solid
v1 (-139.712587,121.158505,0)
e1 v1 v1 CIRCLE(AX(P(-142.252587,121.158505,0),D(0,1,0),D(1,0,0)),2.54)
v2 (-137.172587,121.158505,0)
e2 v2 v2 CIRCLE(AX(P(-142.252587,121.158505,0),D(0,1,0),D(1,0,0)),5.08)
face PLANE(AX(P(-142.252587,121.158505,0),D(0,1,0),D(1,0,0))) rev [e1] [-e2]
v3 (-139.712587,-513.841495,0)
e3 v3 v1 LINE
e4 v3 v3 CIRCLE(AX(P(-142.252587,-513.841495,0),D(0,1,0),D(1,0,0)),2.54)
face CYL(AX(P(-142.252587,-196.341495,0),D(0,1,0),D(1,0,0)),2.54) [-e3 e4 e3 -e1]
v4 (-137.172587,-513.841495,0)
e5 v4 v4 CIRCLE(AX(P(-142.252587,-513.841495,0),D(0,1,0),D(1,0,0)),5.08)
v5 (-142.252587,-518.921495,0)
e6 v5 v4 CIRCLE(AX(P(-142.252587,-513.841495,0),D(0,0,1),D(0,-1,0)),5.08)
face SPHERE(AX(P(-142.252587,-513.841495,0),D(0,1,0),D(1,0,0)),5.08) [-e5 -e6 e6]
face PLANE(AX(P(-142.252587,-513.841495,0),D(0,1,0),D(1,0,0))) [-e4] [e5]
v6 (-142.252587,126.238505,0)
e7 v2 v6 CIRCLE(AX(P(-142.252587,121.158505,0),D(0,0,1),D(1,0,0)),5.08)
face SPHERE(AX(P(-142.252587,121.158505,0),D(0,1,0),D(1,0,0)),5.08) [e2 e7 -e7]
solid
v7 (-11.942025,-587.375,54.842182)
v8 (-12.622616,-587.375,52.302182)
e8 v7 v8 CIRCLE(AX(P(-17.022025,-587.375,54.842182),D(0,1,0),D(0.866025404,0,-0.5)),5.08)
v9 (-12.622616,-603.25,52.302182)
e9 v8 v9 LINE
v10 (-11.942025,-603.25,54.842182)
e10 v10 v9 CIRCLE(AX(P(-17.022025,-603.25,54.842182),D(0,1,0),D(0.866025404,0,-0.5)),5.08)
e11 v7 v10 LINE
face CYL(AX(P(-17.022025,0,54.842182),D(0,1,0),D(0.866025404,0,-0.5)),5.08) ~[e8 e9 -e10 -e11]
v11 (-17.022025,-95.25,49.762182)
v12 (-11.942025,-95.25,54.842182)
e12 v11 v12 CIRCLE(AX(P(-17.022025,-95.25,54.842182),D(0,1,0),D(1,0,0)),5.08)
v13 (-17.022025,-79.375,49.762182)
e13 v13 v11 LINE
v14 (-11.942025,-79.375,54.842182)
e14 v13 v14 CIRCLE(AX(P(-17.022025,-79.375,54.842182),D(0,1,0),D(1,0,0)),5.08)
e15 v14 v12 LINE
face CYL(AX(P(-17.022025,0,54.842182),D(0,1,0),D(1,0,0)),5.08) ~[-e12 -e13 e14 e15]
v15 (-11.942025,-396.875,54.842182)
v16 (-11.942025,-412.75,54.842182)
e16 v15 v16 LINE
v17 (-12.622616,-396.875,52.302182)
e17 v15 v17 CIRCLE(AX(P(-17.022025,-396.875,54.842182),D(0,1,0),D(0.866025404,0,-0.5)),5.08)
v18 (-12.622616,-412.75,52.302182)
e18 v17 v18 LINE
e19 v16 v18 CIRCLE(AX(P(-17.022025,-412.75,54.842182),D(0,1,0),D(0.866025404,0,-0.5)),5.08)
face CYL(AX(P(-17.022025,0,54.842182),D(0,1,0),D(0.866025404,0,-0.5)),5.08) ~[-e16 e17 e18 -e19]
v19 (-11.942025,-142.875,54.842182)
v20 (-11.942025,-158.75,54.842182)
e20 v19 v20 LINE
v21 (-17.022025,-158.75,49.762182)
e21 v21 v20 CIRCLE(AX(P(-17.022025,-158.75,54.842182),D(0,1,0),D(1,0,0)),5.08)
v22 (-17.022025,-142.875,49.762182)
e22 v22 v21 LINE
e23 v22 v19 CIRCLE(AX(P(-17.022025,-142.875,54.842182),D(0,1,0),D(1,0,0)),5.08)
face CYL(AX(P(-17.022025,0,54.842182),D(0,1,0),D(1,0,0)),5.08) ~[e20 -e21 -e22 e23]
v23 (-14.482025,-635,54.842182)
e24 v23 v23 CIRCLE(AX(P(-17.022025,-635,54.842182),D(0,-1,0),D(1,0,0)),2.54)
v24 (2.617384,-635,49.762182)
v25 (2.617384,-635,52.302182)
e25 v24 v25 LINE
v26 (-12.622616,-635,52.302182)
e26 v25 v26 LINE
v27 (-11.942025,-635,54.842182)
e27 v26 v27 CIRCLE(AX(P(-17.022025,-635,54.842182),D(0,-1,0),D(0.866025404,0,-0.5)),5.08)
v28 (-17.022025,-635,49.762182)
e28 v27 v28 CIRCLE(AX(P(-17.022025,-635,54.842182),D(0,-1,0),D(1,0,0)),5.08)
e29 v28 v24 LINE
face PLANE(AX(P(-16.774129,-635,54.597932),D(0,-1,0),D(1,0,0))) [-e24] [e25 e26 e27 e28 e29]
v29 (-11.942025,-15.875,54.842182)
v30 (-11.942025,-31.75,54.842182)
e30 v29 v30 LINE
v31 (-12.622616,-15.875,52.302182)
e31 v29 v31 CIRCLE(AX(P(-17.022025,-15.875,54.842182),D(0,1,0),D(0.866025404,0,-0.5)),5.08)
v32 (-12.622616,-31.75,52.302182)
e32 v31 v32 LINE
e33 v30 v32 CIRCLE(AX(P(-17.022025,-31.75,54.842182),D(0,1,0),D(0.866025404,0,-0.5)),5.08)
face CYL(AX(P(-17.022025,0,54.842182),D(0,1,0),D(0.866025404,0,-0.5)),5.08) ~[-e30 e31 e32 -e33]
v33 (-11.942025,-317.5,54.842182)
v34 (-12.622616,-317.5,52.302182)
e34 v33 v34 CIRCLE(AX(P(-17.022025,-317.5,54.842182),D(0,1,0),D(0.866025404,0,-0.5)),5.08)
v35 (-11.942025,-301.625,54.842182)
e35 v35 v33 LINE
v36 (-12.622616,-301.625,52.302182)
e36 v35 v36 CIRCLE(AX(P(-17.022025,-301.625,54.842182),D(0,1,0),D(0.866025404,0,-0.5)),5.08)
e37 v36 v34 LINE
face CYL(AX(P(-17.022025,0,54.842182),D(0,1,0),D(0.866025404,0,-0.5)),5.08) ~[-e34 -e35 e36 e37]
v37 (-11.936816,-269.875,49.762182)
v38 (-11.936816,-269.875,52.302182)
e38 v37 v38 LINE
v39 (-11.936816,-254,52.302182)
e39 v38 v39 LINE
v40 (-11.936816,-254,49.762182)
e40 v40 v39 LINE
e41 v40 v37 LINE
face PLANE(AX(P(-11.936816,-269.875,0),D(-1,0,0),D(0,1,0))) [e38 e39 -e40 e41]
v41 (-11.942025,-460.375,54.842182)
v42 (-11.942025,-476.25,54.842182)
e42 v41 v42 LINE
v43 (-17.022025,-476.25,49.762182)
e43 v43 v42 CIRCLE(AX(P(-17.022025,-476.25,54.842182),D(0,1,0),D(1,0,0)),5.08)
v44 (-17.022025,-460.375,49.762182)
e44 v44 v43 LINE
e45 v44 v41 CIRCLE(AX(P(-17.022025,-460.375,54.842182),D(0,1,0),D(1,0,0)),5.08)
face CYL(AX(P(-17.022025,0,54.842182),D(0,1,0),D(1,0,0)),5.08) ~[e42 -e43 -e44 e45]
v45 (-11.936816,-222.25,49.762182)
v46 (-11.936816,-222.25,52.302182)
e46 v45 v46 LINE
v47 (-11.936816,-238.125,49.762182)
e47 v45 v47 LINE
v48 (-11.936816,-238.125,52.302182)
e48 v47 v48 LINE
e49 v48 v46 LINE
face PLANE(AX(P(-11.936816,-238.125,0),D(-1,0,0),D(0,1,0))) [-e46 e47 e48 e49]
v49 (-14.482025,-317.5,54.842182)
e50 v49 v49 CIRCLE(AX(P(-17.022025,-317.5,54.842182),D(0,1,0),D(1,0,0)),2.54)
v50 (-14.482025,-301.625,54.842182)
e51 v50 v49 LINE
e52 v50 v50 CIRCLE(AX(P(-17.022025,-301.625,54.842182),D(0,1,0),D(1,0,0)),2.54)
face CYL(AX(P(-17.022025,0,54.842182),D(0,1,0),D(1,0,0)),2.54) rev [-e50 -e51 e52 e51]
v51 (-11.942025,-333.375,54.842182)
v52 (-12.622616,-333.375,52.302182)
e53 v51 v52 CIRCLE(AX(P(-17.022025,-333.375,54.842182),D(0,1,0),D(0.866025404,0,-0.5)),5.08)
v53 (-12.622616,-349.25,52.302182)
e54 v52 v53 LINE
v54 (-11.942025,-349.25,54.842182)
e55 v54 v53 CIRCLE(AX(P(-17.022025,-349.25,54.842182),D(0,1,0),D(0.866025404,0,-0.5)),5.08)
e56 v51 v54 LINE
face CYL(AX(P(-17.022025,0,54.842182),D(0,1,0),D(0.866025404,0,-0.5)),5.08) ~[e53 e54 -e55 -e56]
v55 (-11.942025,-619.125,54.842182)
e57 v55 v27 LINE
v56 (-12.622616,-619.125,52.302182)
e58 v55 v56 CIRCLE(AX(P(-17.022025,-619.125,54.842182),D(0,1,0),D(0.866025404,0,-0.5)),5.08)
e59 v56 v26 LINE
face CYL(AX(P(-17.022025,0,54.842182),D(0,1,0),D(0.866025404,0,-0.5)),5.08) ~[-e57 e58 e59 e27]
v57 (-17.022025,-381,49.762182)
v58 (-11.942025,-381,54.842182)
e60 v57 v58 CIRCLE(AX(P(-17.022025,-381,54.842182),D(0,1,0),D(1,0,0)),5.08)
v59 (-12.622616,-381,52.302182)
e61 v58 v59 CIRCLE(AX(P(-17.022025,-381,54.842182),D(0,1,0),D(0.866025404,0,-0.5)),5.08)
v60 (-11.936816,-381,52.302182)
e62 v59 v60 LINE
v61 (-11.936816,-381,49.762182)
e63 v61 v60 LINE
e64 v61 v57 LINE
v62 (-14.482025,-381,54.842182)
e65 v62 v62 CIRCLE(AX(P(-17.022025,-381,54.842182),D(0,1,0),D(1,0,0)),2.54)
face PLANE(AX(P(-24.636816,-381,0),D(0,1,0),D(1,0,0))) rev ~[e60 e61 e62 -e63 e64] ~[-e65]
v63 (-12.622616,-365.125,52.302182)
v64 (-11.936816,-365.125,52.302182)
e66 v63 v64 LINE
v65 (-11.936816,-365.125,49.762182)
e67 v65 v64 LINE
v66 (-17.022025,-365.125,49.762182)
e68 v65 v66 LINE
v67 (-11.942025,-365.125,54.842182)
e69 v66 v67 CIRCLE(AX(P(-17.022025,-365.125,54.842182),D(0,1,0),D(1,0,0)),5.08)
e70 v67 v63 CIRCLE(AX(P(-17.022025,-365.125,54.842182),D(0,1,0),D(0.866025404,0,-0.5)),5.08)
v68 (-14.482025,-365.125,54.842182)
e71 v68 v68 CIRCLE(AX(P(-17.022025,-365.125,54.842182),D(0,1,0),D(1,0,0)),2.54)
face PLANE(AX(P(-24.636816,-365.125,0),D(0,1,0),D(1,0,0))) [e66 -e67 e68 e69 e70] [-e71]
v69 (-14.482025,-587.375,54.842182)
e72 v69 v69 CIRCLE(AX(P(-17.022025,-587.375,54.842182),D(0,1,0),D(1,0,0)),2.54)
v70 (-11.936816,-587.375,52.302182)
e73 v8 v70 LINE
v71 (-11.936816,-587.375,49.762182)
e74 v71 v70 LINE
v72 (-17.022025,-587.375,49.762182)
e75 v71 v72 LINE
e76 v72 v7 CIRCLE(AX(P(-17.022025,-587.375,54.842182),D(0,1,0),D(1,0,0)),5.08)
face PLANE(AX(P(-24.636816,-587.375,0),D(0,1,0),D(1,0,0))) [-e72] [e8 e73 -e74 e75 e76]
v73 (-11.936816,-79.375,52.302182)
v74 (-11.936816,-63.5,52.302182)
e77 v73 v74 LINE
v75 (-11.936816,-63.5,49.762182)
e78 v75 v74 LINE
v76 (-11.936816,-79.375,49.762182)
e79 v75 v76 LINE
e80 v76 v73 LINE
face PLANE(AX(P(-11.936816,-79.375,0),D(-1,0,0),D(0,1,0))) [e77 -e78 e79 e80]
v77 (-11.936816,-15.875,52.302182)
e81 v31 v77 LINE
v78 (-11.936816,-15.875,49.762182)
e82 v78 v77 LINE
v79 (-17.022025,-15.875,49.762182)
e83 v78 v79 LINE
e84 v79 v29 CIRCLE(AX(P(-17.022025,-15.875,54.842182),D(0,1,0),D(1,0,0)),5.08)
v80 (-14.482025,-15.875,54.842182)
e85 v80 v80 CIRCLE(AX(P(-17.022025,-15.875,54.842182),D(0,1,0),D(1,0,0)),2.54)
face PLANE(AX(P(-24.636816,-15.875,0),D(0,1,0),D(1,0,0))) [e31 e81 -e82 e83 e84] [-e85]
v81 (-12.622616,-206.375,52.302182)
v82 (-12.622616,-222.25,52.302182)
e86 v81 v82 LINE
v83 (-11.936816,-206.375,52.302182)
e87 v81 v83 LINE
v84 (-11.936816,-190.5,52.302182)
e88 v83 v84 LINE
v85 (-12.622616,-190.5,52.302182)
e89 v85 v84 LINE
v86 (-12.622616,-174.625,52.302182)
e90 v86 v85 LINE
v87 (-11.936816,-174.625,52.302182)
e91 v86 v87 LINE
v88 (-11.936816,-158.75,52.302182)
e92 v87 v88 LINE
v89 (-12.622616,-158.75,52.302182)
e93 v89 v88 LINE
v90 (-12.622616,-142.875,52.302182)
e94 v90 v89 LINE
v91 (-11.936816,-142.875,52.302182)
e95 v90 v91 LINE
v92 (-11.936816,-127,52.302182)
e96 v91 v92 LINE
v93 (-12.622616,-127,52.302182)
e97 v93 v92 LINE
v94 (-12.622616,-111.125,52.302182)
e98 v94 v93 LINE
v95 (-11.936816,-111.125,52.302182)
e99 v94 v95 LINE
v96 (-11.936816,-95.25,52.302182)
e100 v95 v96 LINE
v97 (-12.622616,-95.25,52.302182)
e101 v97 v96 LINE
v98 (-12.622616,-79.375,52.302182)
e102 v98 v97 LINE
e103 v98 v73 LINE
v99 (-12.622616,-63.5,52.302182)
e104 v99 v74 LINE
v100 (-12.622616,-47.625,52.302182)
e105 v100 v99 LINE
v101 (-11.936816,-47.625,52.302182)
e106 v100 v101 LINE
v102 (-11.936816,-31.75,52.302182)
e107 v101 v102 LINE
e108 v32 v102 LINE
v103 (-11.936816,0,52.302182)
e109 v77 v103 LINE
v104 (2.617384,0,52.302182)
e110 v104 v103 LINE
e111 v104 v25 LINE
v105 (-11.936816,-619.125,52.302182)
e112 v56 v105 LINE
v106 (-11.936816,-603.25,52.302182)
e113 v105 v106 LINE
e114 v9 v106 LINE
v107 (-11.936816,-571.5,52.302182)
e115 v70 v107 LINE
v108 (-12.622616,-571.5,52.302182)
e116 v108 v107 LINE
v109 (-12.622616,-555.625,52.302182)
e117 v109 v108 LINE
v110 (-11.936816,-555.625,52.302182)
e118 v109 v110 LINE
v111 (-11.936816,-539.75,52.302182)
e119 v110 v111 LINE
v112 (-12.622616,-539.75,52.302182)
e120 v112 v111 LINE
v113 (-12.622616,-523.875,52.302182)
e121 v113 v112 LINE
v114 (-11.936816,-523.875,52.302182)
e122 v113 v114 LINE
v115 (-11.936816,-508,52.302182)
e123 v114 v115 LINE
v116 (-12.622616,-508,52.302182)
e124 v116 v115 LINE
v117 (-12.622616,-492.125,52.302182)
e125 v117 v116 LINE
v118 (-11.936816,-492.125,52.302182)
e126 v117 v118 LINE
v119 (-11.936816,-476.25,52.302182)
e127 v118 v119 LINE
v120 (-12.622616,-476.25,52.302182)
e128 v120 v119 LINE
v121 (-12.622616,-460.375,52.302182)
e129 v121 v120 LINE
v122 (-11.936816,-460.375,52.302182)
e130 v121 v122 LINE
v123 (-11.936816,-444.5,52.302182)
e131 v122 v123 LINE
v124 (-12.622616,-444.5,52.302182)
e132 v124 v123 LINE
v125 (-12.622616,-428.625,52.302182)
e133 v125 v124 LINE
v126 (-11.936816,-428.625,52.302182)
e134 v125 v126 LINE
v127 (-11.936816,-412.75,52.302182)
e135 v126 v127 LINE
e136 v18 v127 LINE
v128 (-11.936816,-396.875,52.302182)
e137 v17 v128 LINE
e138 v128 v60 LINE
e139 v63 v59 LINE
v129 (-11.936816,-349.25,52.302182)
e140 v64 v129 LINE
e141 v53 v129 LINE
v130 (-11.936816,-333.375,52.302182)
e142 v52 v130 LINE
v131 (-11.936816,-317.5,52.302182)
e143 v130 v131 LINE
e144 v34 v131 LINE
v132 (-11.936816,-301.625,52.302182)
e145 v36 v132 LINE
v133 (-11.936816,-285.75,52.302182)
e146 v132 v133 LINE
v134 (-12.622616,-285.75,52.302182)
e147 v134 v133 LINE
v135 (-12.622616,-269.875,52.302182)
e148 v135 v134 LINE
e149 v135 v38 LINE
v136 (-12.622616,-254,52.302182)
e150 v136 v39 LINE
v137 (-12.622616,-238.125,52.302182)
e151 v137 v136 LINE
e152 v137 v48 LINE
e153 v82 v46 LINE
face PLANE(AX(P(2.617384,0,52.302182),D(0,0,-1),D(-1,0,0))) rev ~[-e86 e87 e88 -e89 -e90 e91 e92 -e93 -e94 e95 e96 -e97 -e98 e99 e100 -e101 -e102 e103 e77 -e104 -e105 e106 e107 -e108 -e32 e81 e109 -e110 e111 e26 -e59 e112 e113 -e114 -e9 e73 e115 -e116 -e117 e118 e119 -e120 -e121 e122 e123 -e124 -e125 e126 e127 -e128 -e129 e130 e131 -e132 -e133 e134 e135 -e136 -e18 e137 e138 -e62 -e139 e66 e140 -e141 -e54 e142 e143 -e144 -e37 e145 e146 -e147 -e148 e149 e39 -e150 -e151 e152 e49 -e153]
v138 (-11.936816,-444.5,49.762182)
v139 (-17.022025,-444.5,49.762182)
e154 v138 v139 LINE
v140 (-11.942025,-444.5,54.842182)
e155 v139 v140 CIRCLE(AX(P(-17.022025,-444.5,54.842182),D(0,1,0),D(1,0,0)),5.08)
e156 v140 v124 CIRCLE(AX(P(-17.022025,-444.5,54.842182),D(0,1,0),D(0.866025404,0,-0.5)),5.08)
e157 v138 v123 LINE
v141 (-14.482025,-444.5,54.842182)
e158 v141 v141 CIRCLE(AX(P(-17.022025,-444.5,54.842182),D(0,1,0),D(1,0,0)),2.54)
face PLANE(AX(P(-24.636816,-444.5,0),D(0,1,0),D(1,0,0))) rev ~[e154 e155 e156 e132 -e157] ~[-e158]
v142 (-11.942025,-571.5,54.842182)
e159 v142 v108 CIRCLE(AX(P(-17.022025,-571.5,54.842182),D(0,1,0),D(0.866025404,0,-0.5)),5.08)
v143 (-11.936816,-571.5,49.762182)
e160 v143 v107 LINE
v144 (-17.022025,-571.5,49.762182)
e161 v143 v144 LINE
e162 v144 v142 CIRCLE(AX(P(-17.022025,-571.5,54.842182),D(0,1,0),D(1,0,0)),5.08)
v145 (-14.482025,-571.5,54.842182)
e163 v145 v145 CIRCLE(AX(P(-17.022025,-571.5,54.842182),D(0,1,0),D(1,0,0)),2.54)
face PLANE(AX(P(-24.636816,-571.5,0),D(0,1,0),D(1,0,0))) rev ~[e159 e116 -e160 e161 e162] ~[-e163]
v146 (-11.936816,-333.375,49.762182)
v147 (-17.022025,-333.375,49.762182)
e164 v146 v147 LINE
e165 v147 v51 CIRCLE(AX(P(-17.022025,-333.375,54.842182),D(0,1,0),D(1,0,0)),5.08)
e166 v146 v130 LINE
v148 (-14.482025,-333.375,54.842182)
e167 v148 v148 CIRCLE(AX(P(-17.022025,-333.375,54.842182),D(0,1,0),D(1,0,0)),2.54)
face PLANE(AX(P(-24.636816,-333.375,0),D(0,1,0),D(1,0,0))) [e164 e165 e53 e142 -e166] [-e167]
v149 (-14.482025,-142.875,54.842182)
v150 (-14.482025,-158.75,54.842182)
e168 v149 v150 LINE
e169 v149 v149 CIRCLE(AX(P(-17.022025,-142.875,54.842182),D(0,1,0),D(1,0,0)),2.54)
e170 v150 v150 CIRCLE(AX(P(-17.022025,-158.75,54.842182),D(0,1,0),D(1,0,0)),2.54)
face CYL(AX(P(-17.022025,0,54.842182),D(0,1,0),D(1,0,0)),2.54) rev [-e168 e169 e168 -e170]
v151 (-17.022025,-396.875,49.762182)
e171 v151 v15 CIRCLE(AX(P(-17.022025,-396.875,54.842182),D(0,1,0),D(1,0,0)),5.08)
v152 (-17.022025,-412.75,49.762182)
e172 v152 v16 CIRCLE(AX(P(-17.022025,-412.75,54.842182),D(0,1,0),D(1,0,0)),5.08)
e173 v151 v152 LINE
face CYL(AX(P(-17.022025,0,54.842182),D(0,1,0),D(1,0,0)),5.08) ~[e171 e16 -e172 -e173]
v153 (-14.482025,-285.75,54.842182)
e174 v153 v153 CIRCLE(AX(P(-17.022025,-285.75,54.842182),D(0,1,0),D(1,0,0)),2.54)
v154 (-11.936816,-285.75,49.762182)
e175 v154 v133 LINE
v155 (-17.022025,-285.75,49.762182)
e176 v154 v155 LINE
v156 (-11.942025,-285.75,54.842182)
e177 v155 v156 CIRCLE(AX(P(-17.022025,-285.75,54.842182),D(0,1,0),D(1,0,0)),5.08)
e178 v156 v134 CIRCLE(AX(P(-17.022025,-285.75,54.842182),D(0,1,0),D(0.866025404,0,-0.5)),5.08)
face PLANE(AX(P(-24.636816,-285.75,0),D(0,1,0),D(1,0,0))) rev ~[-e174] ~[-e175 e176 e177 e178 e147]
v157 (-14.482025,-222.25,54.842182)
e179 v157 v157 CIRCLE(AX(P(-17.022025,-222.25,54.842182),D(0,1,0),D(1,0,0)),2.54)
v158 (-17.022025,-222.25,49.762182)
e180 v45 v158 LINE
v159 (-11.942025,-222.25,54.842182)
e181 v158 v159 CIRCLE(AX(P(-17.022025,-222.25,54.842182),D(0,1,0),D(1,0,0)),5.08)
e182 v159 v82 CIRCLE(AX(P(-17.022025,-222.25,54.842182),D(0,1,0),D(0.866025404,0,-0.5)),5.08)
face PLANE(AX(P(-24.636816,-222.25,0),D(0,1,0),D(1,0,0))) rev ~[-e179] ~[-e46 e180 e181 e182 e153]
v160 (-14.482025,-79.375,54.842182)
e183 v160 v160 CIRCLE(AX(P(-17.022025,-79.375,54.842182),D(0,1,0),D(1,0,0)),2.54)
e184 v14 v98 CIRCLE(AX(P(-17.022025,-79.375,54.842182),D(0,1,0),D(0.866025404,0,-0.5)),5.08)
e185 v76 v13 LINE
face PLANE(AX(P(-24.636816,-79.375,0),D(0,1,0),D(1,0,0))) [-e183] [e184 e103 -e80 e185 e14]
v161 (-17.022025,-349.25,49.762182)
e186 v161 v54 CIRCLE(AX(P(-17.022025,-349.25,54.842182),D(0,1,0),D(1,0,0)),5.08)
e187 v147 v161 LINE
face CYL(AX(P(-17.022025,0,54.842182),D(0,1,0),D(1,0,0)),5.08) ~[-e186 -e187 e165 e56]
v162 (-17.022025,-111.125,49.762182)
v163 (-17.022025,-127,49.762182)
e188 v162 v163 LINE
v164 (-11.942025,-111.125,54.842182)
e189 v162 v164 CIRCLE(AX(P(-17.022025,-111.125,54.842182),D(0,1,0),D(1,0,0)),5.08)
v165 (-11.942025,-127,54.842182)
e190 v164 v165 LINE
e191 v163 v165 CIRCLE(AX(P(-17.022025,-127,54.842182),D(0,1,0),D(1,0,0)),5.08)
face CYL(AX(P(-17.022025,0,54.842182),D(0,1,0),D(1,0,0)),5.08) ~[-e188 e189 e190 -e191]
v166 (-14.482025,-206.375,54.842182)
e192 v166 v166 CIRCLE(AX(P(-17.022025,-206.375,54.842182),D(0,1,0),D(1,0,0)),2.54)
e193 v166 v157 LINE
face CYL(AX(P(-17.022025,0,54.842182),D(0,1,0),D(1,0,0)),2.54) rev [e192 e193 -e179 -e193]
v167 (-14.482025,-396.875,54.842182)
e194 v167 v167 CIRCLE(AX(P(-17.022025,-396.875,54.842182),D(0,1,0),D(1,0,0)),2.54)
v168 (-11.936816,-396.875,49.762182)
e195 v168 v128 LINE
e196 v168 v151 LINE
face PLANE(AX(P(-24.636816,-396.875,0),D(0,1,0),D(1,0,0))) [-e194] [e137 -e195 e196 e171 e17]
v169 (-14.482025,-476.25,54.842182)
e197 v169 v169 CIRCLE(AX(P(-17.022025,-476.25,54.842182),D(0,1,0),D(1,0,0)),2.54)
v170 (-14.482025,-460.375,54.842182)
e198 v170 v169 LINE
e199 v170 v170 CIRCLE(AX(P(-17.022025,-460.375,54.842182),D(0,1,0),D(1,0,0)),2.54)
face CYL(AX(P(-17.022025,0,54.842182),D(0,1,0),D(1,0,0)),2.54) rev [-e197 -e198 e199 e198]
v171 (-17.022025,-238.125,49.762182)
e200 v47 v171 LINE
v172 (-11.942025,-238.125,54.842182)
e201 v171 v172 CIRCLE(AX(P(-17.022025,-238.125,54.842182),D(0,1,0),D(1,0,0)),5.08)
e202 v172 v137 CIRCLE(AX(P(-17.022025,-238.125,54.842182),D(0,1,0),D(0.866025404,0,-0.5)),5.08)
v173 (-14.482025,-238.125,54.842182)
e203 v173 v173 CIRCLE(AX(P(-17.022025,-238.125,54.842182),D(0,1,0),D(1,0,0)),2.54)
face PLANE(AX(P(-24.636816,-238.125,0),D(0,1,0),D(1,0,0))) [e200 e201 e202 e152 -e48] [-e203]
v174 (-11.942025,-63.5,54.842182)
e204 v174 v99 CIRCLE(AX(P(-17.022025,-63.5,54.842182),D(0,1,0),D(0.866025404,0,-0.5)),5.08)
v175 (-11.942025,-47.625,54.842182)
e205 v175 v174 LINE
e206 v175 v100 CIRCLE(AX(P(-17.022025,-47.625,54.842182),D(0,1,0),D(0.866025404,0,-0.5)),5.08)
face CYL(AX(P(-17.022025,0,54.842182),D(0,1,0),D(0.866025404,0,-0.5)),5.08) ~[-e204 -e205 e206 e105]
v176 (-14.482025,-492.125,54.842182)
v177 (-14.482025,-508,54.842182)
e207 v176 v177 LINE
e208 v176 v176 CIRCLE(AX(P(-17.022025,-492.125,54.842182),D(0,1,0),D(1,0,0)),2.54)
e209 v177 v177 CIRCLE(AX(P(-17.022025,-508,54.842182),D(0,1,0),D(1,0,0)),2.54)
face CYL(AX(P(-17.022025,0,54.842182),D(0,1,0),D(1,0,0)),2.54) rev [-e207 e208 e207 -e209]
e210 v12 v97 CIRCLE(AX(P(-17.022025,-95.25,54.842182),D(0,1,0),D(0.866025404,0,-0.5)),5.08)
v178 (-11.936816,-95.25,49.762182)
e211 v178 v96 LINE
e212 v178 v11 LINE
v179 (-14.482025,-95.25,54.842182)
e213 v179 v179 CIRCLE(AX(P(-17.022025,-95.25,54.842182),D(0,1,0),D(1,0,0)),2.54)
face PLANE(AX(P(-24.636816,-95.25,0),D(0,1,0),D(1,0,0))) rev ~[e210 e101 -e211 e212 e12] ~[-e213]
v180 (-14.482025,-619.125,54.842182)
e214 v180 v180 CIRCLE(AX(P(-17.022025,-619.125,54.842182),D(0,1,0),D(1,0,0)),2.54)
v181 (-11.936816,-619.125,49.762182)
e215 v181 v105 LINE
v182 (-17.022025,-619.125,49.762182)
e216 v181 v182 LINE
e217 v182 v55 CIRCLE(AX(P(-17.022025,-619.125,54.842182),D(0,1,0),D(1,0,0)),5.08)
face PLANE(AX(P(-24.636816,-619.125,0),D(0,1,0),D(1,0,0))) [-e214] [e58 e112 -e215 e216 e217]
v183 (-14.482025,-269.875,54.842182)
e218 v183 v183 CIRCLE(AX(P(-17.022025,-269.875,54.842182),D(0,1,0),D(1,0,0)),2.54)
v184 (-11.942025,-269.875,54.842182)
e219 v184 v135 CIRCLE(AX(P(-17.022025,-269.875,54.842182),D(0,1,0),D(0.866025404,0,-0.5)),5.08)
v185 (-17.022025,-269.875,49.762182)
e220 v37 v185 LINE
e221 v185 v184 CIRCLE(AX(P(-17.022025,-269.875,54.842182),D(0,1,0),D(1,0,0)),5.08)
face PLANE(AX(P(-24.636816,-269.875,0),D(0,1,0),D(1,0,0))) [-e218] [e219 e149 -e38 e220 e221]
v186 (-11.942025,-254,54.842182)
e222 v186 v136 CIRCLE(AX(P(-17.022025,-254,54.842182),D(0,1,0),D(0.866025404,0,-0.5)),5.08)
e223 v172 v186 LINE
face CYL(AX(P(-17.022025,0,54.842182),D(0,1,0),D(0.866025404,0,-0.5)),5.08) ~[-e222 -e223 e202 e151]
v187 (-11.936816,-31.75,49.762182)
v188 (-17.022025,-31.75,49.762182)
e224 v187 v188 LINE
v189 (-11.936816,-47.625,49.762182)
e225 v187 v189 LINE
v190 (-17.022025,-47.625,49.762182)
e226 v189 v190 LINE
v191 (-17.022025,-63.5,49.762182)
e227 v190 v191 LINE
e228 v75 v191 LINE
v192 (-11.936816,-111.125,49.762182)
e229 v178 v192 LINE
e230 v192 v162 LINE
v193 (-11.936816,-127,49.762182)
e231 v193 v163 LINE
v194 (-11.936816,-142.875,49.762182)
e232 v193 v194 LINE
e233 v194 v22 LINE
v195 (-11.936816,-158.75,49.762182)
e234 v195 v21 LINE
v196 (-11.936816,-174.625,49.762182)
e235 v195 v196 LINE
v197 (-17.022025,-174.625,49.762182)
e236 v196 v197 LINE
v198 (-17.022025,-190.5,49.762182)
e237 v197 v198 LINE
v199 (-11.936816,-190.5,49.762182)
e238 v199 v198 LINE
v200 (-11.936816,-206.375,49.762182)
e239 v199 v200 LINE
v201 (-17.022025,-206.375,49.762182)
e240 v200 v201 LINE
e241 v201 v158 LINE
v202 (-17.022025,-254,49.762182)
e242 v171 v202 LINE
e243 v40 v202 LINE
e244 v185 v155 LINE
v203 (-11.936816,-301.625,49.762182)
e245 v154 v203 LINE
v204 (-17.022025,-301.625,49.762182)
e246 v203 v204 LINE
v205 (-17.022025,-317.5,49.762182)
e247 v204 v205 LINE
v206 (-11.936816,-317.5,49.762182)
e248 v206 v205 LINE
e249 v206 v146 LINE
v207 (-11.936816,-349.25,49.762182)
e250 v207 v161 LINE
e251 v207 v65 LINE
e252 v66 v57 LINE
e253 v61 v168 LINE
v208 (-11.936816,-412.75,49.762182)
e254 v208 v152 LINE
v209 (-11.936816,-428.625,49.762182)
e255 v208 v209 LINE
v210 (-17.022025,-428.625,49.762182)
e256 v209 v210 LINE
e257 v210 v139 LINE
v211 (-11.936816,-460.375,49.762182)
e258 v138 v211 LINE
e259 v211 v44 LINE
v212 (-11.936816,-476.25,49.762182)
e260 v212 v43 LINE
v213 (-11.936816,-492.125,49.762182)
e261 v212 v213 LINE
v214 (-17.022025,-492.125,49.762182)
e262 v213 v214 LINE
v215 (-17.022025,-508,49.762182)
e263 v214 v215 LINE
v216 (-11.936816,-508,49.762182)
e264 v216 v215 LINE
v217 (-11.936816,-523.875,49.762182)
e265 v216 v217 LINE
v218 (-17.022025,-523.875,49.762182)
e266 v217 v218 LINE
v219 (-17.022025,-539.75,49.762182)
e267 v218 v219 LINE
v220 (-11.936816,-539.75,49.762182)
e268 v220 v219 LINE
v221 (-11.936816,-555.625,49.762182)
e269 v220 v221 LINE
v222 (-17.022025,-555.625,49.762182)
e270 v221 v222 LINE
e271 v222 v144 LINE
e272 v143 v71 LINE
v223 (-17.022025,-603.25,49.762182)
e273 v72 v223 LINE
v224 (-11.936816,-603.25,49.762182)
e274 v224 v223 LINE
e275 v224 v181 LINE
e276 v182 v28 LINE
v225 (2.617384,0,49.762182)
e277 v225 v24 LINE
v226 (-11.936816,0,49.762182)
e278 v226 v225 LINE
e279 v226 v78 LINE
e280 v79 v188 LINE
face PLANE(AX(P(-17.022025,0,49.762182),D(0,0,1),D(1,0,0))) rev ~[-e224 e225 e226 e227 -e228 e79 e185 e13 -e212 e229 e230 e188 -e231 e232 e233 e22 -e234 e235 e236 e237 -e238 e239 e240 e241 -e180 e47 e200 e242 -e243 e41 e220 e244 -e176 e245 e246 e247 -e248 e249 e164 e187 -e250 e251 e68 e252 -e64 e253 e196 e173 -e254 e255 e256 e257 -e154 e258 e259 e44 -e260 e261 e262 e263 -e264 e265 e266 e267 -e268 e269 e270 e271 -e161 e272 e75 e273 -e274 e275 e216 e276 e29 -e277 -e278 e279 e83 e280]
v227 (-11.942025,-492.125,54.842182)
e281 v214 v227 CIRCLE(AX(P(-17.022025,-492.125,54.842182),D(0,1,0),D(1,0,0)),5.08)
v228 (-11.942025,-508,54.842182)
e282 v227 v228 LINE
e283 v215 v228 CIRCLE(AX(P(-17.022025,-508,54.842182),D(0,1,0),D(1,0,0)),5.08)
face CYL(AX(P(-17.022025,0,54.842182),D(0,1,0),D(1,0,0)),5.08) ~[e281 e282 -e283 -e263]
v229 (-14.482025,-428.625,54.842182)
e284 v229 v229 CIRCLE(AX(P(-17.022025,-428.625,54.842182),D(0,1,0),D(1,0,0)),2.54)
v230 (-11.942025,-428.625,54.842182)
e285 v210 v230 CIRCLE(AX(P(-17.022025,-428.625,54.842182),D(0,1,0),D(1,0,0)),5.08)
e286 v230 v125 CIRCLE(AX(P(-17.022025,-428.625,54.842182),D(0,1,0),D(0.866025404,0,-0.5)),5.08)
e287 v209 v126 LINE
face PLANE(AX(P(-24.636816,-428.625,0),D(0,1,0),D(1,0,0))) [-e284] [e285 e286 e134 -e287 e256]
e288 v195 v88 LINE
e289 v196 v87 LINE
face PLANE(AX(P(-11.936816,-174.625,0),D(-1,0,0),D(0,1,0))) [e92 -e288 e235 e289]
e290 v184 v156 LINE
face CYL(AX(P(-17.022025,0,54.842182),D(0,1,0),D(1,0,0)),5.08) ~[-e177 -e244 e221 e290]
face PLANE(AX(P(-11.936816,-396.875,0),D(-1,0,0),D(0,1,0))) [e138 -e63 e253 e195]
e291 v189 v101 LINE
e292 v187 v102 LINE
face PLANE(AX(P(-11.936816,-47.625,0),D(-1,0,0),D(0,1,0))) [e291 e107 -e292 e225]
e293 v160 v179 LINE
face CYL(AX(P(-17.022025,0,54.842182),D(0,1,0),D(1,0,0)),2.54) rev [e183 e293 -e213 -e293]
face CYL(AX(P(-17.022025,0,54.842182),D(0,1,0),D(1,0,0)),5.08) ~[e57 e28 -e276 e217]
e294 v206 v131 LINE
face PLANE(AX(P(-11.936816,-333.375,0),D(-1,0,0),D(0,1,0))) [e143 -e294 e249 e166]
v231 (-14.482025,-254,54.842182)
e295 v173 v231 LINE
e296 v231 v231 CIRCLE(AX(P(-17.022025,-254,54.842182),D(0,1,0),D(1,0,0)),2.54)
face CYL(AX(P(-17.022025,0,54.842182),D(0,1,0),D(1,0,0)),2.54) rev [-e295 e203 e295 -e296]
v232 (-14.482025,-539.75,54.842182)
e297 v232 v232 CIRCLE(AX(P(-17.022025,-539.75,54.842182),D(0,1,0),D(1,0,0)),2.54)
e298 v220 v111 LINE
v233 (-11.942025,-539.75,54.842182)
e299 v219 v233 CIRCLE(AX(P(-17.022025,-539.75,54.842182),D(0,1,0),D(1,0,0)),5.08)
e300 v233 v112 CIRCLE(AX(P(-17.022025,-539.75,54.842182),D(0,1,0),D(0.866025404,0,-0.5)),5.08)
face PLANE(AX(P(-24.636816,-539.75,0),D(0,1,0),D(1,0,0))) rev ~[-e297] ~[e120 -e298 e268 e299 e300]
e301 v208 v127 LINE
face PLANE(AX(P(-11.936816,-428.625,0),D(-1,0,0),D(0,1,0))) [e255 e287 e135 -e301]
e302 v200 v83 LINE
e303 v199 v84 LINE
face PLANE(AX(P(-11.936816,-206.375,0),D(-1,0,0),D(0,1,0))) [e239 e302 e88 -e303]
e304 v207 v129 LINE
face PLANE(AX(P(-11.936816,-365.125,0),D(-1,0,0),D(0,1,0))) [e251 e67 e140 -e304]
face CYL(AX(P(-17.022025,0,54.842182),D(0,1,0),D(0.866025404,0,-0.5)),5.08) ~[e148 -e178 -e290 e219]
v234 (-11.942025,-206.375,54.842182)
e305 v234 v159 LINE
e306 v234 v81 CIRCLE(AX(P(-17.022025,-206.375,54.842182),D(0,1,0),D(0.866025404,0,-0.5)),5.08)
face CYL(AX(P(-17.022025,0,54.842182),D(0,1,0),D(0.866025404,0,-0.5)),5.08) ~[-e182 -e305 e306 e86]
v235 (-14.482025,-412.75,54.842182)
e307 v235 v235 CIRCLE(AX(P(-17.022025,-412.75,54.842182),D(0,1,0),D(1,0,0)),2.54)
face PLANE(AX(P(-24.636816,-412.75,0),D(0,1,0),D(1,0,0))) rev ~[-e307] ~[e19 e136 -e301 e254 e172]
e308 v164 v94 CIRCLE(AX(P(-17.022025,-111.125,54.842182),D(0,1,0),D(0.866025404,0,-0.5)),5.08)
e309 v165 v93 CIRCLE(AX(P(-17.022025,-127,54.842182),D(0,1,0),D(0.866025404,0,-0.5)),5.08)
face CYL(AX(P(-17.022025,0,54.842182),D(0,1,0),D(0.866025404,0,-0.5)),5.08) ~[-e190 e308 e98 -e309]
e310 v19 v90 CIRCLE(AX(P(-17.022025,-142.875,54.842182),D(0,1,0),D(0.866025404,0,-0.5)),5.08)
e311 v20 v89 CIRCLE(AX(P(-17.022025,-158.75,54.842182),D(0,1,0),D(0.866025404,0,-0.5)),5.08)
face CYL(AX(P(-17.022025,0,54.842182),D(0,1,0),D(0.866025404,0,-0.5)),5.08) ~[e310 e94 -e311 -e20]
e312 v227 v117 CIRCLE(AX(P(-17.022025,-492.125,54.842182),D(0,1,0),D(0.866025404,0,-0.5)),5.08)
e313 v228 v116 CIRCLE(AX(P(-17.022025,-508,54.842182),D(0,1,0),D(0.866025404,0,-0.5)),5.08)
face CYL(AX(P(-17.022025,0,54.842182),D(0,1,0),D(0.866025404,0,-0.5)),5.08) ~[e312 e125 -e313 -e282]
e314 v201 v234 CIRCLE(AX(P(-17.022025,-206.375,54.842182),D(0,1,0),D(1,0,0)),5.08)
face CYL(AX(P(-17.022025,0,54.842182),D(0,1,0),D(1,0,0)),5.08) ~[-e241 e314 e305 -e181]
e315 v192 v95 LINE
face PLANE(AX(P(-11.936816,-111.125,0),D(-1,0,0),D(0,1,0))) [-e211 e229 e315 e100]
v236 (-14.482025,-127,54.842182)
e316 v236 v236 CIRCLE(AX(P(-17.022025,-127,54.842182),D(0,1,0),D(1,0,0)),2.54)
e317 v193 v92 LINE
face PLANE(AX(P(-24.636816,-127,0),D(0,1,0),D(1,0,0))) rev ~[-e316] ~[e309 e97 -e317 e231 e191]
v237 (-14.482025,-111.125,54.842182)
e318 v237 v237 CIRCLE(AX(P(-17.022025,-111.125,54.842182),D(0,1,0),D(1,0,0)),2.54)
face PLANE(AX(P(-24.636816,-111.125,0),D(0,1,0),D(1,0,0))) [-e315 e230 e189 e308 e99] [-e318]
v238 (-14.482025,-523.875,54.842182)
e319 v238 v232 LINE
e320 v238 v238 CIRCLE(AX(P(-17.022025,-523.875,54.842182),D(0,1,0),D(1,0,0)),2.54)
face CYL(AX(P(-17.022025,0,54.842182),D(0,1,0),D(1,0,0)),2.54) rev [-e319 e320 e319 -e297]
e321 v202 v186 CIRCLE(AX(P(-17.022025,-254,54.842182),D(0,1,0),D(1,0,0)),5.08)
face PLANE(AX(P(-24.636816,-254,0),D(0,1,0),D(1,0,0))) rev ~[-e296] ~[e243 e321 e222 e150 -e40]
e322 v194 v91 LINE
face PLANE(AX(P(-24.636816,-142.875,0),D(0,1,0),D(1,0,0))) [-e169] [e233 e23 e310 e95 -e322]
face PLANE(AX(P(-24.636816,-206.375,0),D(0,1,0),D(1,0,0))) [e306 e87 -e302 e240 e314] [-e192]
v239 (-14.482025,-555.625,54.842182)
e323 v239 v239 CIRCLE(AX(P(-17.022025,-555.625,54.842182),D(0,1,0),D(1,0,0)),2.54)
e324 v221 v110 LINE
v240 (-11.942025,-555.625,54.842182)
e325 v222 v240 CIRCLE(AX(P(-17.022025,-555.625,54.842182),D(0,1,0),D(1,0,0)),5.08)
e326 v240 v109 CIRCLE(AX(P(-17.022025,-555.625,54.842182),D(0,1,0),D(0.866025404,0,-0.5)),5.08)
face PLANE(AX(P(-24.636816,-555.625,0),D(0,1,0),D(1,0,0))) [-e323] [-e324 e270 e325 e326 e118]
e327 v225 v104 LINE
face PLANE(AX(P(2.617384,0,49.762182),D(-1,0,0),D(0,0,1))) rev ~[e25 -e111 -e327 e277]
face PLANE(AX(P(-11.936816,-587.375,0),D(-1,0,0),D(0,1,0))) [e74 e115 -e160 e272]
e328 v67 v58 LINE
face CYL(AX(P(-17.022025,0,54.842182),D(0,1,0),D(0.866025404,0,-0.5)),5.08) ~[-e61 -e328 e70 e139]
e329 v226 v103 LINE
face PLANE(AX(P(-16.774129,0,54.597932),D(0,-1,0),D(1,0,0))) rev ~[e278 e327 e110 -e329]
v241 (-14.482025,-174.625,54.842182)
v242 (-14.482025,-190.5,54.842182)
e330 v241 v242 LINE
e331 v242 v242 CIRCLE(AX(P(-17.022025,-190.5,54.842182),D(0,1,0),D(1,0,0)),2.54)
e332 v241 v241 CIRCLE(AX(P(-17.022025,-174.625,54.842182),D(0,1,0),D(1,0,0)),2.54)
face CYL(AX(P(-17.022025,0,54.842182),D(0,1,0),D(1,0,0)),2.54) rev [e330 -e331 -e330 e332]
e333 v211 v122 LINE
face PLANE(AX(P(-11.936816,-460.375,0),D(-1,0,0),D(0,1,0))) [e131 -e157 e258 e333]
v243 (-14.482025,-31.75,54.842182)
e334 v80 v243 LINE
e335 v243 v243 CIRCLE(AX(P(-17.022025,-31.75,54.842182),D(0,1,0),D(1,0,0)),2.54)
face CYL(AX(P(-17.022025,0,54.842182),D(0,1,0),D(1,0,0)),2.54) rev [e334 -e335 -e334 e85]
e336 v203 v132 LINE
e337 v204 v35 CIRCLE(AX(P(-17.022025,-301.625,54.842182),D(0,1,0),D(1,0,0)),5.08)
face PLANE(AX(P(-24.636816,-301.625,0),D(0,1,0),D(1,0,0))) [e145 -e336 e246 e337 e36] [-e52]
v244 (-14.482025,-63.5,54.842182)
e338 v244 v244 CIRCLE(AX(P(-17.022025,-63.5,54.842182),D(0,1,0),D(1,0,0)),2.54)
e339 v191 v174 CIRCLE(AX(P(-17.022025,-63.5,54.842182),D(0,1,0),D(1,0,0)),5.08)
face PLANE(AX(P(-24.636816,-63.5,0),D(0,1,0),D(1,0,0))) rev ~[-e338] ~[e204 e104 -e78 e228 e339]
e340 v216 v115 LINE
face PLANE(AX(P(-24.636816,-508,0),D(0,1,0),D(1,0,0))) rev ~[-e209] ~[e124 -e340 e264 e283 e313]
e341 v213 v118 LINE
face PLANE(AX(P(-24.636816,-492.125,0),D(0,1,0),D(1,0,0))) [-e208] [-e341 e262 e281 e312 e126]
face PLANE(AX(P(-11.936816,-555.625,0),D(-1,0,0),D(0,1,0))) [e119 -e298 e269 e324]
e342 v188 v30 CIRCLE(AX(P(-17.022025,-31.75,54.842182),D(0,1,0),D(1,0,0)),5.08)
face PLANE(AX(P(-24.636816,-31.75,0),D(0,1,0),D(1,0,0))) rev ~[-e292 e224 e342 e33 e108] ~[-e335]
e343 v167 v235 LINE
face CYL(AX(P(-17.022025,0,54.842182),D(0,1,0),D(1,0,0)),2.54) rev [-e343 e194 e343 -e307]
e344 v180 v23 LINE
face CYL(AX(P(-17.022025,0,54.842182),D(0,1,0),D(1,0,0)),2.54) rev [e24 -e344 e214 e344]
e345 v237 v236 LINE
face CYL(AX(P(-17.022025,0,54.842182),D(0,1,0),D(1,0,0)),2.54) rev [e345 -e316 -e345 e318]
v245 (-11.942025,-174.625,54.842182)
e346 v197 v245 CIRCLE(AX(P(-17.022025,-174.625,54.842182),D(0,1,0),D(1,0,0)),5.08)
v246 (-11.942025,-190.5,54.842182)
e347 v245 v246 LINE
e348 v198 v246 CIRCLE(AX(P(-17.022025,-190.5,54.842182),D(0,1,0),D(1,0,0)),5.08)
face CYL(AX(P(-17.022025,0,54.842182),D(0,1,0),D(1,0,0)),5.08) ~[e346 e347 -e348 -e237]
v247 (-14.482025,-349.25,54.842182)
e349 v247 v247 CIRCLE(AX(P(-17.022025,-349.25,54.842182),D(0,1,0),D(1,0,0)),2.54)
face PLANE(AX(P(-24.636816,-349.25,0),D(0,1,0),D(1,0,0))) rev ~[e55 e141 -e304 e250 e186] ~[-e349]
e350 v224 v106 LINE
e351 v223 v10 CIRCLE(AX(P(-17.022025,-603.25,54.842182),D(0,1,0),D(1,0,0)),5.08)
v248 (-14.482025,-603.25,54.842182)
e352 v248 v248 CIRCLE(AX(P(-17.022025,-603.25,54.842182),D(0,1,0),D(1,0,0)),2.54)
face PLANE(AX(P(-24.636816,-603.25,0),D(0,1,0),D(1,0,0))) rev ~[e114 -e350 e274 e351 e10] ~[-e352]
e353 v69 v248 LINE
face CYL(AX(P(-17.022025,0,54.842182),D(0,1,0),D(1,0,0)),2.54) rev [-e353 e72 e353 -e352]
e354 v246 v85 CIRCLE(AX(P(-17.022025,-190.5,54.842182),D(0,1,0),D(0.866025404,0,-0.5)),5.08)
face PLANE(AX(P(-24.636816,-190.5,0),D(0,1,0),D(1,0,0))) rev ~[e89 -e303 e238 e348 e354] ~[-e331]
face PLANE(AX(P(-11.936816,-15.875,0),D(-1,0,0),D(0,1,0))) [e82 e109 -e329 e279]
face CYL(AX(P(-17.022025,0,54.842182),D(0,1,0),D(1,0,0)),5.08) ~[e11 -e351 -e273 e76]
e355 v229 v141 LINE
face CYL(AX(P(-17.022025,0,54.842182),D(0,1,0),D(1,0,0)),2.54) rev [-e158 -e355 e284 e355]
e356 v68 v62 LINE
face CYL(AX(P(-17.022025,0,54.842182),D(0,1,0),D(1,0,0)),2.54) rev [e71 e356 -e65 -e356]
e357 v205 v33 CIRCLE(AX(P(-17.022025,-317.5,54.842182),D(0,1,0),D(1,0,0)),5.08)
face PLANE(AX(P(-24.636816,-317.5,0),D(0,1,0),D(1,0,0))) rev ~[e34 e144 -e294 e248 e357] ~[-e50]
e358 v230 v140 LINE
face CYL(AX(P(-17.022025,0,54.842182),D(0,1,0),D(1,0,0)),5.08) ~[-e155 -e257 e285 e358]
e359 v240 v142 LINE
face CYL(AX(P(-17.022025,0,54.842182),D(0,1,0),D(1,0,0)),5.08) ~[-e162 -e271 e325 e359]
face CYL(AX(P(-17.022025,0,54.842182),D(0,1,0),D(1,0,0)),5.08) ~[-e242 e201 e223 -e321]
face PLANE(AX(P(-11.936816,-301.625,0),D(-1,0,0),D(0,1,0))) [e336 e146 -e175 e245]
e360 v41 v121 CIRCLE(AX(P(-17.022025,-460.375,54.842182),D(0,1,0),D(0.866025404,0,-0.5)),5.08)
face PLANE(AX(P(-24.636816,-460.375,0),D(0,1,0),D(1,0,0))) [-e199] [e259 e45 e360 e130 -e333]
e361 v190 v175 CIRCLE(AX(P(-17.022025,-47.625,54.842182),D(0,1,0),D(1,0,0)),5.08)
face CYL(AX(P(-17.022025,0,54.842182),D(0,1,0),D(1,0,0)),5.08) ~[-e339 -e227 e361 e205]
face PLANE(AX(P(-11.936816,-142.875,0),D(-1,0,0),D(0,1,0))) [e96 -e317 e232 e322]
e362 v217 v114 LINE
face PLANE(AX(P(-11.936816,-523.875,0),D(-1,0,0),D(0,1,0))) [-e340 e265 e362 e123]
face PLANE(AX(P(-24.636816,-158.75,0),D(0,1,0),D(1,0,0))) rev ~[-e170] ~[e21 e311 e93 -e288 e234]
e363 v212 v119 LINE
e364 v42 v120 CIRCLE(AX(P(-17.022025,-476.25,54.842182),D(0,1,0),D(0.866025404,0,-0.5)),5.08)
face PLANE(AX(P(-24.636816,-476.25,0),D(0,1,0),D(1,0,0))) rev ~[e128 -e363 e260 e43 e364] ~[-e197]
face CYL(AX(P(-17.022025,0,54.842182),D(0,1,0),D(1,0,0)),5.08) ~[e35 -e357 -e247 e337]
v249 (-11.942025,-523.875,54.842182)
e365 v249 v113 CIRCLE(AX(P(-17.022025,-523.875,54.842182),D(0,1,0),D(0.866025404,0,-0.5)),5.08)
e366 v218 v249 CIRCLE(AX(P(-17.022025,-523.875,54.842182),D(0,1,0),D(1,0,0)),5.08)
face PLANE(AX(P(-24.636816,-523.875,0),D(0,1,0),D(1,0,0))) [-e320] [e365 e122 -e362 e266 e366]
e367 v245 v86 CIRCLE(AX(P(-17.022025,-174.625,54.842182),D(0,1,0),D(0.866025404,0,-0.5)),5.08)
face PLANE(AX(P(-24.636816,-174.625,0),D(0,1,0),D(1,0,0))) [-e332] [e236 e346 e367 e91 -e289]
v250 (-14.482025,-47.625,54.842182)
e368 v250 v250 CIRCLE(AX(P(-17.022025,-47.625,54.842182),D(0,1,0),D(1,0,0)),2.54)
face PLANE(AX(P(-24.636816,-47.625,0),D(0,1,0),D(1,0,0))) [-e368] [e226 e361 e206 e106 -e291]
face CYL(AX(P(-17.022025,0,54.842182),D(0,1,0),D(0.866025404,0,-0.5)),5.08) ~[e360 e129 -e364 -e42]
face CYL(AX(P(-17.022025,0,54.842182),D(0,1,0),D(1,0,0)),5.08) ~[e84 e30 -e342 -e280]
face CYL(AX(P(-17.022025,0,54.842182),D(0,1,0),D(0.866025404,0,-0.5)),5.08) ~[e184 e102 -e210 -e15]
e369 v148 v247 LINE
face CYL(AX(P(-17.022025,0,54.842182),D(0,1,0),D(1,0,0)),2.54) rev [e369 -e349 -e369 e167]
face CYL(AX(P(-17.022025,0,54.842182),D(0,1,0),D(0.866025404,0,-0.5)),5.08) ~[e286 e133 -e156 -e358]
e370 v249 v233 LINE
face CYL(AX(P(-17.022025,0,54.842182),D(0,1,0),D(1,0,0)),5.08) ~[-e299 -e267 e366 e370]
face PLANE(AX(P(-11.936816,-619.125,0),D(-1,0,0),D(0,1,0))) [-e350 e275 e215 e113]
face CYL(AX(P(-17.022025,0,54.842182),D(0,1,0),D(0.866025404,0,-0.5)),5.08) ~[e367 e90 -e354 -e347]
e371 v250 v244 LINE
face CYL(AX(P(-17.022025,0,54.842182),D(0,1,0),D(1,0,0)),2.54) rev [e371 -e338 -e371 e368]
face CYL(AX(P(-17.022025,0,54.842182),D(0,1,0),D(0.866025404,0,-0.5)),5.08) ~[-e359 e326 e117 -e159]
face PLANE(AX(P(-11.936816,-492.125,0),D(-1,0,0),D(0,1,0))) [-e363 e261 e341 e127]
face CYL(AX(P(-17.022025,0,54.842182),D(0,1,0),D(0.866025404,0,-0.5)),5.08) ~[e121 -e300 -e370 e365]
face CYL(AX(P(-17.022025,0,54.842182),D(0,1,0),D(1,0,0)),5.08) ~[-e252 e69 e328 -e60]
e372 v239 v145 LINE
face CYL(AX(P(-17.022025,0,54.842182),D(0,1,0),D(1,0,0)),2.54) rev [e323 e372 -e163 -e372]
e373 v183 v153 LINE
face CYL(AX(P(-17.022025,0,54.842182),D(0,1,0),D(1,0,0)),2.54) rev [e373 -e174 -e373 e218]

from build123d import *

# Parameters (mm, degrees)
F0_R     = 2.54
F1_DEPTH = 635
F2_W     = 12.7
F2_H     = 15.875
F3_DEPTH = 127
F4_W     = 2.54
F4_H     = 635


with BuildPart() as f1:
    # F0 (on Front) → F1 (new body)
    with BuildSketch(Plane.XZ):
        with BuildLine():
            ThreePointArc((-12.6226157889, 52.3021817207), (-12.1151216426, 53.5273809716), (-11.9420248401, 54.8421817207))
            ThreePointArc((-11.9420248401, 54.8421817207), (-20.6141272885, 58.4342841692), (-17.0220248401, 49.7621817207))
            ThreePointArc((-17.0220248401, 49.7621817207), (-14.4820248401, 50.4427726695), (-12.6226157889, 52.3021817207))
        make_face()
        with Locations((-17.0220248401, 54.8421817207)):
            Circle(F0_R, mode=Mode.SUBTRACT)
        with BuildLine():
            ThreePointArc((-12.6226157889, 52.3021817207), (-14.4820248401, 50.4427726695), (-17.0220248401, 49.7621817207))
            Line((-17.0220248401, 49.7621817207), (2.6173842111, 49.7621817207))
            Line((2.6173842111, 49.7621817207), (2.6173842111, 52.3021817207))
            Line((2.6173842111, 52.3021817207), (-12.6226157889, 52.3021817207))
        make_face()
    extrude(amount=F1_DEPTH)

    # F2 (on Top) → F3 (cut)
    with BuildSketch(Plane.XY):
        with Locations((-18.2868157889, -7.9375)):
            Rectangle(F2_W, F2_H)
        with Locations((-18.2868157889, -39.6875)):
            Rectangle(F2_W, F2_H)
        with Locations((-18.2868157889, -71.4375)):
            Rectangle(F2_W, F2_H)
        with Locations((-18.2868157889, -103.1875)):
            Rectangle(F2_W, F2_H)
        with Locations((-18.2868157889, -134.9375)):
            Rectangle(F2_W, F2_H)
        with Locations((-18.2868157889, -166.6875)):
            Rectangle(F2_W, F2_H)
        with Locations((-18.2868157889, -198.4375)):
            Rectangle(F2_W, F2_H)
        with Locations((-18.2868157889, -230.1875)):
            Rectangle(F2_W, F2_H)
        with Locations((-18.2868157889, -261.9375)):
            Rectangle(F2_W, F2_H)
        with Locations((-18.2868157889, -293.6875)):
            Rectangle(F2_W, F2_H)
        with Locations((-18.2868157889, -325.4375)):
            Rectangle(F2_W, F2_H)
        with Locations((-18.2868157889, -357.1875)):
            Rectangle(F2_W, F2_H)
        with Locations((-18.2868157889, -388.9375)):
            Rectangle(F2_W, F2_H)
        with Locations((-18.2868157889, -420.6875)):
            Rectangle(F2_W, F2_H)
        with Locations((-18.2868157889, -452.4375)):
            Rectangle(F2_W, F2_H)
        with Locations((-18.2868157889, -484.1875)):
            Rectangle(F2_W, F2_H)
        with Locations((-18.2868157889, -515.9375)):
            Rectangle(F2_W, F2_H)
        with Locations((-18.2868157889, -547.6875)):
            Rectangle(F2_W, F2_H)
        with Locations((-18.2868157889, -579.4375)):
            Rectangle(F2_W, F2_H)
        with Locations((-18.2868157889, -611.1875)):
            Rectangle(F2_W, F2_H)
    extrude(amount=F3_DEPTH, mode=Mode.SUBTRACT)


with BuildPart() as f5:
    # F4 (on Top) → F5 (revolve)
    with BuildSketch(Plane.XY):
        with BuildLine():
            Line((-142.2525869989, 126.2385049661), (-142.2525869989, 121.1585049661))
            Line((-142.2525869989, 121.1585049661), (-139.7125869989, 121.1585049661))
            Line((-139.7125869989, 121.1585049661), (-137.1725869989, 121.1585049661))
            ThreePointArc((-137.1725869989, 121.1585049661), (-138.6604845505, 124.7506074146), (-142.2525869989, 126.2385049661))
        make_face()
        with Locations((-140.9825869989, -196.3414950339)):
            Rectangle(F4_W, F4_H)
        with BuildLine():
            Line((-139.7125869989, -513.8414950339), (-142.2525869989, -513.8414950339))
            Line((-142.2525869989, -513.8414950339), (-142.2525869989, -518.9214950339))
            ThreePointArc((-142.2525869989, -518.9214950339), (-138.6604845505, -517.4335974823), (-137.1725869989, -513.8414950339))
            Line((-137.1725869989, -513.8414950339), (-139.7125869989, -513.8414950339))
        make_face()
    revolve(axis=Axis((-142.2525869989, -196.3414950339, 0), (0, 1, 0)))


solid = Compound([f1.part, f5.part])
